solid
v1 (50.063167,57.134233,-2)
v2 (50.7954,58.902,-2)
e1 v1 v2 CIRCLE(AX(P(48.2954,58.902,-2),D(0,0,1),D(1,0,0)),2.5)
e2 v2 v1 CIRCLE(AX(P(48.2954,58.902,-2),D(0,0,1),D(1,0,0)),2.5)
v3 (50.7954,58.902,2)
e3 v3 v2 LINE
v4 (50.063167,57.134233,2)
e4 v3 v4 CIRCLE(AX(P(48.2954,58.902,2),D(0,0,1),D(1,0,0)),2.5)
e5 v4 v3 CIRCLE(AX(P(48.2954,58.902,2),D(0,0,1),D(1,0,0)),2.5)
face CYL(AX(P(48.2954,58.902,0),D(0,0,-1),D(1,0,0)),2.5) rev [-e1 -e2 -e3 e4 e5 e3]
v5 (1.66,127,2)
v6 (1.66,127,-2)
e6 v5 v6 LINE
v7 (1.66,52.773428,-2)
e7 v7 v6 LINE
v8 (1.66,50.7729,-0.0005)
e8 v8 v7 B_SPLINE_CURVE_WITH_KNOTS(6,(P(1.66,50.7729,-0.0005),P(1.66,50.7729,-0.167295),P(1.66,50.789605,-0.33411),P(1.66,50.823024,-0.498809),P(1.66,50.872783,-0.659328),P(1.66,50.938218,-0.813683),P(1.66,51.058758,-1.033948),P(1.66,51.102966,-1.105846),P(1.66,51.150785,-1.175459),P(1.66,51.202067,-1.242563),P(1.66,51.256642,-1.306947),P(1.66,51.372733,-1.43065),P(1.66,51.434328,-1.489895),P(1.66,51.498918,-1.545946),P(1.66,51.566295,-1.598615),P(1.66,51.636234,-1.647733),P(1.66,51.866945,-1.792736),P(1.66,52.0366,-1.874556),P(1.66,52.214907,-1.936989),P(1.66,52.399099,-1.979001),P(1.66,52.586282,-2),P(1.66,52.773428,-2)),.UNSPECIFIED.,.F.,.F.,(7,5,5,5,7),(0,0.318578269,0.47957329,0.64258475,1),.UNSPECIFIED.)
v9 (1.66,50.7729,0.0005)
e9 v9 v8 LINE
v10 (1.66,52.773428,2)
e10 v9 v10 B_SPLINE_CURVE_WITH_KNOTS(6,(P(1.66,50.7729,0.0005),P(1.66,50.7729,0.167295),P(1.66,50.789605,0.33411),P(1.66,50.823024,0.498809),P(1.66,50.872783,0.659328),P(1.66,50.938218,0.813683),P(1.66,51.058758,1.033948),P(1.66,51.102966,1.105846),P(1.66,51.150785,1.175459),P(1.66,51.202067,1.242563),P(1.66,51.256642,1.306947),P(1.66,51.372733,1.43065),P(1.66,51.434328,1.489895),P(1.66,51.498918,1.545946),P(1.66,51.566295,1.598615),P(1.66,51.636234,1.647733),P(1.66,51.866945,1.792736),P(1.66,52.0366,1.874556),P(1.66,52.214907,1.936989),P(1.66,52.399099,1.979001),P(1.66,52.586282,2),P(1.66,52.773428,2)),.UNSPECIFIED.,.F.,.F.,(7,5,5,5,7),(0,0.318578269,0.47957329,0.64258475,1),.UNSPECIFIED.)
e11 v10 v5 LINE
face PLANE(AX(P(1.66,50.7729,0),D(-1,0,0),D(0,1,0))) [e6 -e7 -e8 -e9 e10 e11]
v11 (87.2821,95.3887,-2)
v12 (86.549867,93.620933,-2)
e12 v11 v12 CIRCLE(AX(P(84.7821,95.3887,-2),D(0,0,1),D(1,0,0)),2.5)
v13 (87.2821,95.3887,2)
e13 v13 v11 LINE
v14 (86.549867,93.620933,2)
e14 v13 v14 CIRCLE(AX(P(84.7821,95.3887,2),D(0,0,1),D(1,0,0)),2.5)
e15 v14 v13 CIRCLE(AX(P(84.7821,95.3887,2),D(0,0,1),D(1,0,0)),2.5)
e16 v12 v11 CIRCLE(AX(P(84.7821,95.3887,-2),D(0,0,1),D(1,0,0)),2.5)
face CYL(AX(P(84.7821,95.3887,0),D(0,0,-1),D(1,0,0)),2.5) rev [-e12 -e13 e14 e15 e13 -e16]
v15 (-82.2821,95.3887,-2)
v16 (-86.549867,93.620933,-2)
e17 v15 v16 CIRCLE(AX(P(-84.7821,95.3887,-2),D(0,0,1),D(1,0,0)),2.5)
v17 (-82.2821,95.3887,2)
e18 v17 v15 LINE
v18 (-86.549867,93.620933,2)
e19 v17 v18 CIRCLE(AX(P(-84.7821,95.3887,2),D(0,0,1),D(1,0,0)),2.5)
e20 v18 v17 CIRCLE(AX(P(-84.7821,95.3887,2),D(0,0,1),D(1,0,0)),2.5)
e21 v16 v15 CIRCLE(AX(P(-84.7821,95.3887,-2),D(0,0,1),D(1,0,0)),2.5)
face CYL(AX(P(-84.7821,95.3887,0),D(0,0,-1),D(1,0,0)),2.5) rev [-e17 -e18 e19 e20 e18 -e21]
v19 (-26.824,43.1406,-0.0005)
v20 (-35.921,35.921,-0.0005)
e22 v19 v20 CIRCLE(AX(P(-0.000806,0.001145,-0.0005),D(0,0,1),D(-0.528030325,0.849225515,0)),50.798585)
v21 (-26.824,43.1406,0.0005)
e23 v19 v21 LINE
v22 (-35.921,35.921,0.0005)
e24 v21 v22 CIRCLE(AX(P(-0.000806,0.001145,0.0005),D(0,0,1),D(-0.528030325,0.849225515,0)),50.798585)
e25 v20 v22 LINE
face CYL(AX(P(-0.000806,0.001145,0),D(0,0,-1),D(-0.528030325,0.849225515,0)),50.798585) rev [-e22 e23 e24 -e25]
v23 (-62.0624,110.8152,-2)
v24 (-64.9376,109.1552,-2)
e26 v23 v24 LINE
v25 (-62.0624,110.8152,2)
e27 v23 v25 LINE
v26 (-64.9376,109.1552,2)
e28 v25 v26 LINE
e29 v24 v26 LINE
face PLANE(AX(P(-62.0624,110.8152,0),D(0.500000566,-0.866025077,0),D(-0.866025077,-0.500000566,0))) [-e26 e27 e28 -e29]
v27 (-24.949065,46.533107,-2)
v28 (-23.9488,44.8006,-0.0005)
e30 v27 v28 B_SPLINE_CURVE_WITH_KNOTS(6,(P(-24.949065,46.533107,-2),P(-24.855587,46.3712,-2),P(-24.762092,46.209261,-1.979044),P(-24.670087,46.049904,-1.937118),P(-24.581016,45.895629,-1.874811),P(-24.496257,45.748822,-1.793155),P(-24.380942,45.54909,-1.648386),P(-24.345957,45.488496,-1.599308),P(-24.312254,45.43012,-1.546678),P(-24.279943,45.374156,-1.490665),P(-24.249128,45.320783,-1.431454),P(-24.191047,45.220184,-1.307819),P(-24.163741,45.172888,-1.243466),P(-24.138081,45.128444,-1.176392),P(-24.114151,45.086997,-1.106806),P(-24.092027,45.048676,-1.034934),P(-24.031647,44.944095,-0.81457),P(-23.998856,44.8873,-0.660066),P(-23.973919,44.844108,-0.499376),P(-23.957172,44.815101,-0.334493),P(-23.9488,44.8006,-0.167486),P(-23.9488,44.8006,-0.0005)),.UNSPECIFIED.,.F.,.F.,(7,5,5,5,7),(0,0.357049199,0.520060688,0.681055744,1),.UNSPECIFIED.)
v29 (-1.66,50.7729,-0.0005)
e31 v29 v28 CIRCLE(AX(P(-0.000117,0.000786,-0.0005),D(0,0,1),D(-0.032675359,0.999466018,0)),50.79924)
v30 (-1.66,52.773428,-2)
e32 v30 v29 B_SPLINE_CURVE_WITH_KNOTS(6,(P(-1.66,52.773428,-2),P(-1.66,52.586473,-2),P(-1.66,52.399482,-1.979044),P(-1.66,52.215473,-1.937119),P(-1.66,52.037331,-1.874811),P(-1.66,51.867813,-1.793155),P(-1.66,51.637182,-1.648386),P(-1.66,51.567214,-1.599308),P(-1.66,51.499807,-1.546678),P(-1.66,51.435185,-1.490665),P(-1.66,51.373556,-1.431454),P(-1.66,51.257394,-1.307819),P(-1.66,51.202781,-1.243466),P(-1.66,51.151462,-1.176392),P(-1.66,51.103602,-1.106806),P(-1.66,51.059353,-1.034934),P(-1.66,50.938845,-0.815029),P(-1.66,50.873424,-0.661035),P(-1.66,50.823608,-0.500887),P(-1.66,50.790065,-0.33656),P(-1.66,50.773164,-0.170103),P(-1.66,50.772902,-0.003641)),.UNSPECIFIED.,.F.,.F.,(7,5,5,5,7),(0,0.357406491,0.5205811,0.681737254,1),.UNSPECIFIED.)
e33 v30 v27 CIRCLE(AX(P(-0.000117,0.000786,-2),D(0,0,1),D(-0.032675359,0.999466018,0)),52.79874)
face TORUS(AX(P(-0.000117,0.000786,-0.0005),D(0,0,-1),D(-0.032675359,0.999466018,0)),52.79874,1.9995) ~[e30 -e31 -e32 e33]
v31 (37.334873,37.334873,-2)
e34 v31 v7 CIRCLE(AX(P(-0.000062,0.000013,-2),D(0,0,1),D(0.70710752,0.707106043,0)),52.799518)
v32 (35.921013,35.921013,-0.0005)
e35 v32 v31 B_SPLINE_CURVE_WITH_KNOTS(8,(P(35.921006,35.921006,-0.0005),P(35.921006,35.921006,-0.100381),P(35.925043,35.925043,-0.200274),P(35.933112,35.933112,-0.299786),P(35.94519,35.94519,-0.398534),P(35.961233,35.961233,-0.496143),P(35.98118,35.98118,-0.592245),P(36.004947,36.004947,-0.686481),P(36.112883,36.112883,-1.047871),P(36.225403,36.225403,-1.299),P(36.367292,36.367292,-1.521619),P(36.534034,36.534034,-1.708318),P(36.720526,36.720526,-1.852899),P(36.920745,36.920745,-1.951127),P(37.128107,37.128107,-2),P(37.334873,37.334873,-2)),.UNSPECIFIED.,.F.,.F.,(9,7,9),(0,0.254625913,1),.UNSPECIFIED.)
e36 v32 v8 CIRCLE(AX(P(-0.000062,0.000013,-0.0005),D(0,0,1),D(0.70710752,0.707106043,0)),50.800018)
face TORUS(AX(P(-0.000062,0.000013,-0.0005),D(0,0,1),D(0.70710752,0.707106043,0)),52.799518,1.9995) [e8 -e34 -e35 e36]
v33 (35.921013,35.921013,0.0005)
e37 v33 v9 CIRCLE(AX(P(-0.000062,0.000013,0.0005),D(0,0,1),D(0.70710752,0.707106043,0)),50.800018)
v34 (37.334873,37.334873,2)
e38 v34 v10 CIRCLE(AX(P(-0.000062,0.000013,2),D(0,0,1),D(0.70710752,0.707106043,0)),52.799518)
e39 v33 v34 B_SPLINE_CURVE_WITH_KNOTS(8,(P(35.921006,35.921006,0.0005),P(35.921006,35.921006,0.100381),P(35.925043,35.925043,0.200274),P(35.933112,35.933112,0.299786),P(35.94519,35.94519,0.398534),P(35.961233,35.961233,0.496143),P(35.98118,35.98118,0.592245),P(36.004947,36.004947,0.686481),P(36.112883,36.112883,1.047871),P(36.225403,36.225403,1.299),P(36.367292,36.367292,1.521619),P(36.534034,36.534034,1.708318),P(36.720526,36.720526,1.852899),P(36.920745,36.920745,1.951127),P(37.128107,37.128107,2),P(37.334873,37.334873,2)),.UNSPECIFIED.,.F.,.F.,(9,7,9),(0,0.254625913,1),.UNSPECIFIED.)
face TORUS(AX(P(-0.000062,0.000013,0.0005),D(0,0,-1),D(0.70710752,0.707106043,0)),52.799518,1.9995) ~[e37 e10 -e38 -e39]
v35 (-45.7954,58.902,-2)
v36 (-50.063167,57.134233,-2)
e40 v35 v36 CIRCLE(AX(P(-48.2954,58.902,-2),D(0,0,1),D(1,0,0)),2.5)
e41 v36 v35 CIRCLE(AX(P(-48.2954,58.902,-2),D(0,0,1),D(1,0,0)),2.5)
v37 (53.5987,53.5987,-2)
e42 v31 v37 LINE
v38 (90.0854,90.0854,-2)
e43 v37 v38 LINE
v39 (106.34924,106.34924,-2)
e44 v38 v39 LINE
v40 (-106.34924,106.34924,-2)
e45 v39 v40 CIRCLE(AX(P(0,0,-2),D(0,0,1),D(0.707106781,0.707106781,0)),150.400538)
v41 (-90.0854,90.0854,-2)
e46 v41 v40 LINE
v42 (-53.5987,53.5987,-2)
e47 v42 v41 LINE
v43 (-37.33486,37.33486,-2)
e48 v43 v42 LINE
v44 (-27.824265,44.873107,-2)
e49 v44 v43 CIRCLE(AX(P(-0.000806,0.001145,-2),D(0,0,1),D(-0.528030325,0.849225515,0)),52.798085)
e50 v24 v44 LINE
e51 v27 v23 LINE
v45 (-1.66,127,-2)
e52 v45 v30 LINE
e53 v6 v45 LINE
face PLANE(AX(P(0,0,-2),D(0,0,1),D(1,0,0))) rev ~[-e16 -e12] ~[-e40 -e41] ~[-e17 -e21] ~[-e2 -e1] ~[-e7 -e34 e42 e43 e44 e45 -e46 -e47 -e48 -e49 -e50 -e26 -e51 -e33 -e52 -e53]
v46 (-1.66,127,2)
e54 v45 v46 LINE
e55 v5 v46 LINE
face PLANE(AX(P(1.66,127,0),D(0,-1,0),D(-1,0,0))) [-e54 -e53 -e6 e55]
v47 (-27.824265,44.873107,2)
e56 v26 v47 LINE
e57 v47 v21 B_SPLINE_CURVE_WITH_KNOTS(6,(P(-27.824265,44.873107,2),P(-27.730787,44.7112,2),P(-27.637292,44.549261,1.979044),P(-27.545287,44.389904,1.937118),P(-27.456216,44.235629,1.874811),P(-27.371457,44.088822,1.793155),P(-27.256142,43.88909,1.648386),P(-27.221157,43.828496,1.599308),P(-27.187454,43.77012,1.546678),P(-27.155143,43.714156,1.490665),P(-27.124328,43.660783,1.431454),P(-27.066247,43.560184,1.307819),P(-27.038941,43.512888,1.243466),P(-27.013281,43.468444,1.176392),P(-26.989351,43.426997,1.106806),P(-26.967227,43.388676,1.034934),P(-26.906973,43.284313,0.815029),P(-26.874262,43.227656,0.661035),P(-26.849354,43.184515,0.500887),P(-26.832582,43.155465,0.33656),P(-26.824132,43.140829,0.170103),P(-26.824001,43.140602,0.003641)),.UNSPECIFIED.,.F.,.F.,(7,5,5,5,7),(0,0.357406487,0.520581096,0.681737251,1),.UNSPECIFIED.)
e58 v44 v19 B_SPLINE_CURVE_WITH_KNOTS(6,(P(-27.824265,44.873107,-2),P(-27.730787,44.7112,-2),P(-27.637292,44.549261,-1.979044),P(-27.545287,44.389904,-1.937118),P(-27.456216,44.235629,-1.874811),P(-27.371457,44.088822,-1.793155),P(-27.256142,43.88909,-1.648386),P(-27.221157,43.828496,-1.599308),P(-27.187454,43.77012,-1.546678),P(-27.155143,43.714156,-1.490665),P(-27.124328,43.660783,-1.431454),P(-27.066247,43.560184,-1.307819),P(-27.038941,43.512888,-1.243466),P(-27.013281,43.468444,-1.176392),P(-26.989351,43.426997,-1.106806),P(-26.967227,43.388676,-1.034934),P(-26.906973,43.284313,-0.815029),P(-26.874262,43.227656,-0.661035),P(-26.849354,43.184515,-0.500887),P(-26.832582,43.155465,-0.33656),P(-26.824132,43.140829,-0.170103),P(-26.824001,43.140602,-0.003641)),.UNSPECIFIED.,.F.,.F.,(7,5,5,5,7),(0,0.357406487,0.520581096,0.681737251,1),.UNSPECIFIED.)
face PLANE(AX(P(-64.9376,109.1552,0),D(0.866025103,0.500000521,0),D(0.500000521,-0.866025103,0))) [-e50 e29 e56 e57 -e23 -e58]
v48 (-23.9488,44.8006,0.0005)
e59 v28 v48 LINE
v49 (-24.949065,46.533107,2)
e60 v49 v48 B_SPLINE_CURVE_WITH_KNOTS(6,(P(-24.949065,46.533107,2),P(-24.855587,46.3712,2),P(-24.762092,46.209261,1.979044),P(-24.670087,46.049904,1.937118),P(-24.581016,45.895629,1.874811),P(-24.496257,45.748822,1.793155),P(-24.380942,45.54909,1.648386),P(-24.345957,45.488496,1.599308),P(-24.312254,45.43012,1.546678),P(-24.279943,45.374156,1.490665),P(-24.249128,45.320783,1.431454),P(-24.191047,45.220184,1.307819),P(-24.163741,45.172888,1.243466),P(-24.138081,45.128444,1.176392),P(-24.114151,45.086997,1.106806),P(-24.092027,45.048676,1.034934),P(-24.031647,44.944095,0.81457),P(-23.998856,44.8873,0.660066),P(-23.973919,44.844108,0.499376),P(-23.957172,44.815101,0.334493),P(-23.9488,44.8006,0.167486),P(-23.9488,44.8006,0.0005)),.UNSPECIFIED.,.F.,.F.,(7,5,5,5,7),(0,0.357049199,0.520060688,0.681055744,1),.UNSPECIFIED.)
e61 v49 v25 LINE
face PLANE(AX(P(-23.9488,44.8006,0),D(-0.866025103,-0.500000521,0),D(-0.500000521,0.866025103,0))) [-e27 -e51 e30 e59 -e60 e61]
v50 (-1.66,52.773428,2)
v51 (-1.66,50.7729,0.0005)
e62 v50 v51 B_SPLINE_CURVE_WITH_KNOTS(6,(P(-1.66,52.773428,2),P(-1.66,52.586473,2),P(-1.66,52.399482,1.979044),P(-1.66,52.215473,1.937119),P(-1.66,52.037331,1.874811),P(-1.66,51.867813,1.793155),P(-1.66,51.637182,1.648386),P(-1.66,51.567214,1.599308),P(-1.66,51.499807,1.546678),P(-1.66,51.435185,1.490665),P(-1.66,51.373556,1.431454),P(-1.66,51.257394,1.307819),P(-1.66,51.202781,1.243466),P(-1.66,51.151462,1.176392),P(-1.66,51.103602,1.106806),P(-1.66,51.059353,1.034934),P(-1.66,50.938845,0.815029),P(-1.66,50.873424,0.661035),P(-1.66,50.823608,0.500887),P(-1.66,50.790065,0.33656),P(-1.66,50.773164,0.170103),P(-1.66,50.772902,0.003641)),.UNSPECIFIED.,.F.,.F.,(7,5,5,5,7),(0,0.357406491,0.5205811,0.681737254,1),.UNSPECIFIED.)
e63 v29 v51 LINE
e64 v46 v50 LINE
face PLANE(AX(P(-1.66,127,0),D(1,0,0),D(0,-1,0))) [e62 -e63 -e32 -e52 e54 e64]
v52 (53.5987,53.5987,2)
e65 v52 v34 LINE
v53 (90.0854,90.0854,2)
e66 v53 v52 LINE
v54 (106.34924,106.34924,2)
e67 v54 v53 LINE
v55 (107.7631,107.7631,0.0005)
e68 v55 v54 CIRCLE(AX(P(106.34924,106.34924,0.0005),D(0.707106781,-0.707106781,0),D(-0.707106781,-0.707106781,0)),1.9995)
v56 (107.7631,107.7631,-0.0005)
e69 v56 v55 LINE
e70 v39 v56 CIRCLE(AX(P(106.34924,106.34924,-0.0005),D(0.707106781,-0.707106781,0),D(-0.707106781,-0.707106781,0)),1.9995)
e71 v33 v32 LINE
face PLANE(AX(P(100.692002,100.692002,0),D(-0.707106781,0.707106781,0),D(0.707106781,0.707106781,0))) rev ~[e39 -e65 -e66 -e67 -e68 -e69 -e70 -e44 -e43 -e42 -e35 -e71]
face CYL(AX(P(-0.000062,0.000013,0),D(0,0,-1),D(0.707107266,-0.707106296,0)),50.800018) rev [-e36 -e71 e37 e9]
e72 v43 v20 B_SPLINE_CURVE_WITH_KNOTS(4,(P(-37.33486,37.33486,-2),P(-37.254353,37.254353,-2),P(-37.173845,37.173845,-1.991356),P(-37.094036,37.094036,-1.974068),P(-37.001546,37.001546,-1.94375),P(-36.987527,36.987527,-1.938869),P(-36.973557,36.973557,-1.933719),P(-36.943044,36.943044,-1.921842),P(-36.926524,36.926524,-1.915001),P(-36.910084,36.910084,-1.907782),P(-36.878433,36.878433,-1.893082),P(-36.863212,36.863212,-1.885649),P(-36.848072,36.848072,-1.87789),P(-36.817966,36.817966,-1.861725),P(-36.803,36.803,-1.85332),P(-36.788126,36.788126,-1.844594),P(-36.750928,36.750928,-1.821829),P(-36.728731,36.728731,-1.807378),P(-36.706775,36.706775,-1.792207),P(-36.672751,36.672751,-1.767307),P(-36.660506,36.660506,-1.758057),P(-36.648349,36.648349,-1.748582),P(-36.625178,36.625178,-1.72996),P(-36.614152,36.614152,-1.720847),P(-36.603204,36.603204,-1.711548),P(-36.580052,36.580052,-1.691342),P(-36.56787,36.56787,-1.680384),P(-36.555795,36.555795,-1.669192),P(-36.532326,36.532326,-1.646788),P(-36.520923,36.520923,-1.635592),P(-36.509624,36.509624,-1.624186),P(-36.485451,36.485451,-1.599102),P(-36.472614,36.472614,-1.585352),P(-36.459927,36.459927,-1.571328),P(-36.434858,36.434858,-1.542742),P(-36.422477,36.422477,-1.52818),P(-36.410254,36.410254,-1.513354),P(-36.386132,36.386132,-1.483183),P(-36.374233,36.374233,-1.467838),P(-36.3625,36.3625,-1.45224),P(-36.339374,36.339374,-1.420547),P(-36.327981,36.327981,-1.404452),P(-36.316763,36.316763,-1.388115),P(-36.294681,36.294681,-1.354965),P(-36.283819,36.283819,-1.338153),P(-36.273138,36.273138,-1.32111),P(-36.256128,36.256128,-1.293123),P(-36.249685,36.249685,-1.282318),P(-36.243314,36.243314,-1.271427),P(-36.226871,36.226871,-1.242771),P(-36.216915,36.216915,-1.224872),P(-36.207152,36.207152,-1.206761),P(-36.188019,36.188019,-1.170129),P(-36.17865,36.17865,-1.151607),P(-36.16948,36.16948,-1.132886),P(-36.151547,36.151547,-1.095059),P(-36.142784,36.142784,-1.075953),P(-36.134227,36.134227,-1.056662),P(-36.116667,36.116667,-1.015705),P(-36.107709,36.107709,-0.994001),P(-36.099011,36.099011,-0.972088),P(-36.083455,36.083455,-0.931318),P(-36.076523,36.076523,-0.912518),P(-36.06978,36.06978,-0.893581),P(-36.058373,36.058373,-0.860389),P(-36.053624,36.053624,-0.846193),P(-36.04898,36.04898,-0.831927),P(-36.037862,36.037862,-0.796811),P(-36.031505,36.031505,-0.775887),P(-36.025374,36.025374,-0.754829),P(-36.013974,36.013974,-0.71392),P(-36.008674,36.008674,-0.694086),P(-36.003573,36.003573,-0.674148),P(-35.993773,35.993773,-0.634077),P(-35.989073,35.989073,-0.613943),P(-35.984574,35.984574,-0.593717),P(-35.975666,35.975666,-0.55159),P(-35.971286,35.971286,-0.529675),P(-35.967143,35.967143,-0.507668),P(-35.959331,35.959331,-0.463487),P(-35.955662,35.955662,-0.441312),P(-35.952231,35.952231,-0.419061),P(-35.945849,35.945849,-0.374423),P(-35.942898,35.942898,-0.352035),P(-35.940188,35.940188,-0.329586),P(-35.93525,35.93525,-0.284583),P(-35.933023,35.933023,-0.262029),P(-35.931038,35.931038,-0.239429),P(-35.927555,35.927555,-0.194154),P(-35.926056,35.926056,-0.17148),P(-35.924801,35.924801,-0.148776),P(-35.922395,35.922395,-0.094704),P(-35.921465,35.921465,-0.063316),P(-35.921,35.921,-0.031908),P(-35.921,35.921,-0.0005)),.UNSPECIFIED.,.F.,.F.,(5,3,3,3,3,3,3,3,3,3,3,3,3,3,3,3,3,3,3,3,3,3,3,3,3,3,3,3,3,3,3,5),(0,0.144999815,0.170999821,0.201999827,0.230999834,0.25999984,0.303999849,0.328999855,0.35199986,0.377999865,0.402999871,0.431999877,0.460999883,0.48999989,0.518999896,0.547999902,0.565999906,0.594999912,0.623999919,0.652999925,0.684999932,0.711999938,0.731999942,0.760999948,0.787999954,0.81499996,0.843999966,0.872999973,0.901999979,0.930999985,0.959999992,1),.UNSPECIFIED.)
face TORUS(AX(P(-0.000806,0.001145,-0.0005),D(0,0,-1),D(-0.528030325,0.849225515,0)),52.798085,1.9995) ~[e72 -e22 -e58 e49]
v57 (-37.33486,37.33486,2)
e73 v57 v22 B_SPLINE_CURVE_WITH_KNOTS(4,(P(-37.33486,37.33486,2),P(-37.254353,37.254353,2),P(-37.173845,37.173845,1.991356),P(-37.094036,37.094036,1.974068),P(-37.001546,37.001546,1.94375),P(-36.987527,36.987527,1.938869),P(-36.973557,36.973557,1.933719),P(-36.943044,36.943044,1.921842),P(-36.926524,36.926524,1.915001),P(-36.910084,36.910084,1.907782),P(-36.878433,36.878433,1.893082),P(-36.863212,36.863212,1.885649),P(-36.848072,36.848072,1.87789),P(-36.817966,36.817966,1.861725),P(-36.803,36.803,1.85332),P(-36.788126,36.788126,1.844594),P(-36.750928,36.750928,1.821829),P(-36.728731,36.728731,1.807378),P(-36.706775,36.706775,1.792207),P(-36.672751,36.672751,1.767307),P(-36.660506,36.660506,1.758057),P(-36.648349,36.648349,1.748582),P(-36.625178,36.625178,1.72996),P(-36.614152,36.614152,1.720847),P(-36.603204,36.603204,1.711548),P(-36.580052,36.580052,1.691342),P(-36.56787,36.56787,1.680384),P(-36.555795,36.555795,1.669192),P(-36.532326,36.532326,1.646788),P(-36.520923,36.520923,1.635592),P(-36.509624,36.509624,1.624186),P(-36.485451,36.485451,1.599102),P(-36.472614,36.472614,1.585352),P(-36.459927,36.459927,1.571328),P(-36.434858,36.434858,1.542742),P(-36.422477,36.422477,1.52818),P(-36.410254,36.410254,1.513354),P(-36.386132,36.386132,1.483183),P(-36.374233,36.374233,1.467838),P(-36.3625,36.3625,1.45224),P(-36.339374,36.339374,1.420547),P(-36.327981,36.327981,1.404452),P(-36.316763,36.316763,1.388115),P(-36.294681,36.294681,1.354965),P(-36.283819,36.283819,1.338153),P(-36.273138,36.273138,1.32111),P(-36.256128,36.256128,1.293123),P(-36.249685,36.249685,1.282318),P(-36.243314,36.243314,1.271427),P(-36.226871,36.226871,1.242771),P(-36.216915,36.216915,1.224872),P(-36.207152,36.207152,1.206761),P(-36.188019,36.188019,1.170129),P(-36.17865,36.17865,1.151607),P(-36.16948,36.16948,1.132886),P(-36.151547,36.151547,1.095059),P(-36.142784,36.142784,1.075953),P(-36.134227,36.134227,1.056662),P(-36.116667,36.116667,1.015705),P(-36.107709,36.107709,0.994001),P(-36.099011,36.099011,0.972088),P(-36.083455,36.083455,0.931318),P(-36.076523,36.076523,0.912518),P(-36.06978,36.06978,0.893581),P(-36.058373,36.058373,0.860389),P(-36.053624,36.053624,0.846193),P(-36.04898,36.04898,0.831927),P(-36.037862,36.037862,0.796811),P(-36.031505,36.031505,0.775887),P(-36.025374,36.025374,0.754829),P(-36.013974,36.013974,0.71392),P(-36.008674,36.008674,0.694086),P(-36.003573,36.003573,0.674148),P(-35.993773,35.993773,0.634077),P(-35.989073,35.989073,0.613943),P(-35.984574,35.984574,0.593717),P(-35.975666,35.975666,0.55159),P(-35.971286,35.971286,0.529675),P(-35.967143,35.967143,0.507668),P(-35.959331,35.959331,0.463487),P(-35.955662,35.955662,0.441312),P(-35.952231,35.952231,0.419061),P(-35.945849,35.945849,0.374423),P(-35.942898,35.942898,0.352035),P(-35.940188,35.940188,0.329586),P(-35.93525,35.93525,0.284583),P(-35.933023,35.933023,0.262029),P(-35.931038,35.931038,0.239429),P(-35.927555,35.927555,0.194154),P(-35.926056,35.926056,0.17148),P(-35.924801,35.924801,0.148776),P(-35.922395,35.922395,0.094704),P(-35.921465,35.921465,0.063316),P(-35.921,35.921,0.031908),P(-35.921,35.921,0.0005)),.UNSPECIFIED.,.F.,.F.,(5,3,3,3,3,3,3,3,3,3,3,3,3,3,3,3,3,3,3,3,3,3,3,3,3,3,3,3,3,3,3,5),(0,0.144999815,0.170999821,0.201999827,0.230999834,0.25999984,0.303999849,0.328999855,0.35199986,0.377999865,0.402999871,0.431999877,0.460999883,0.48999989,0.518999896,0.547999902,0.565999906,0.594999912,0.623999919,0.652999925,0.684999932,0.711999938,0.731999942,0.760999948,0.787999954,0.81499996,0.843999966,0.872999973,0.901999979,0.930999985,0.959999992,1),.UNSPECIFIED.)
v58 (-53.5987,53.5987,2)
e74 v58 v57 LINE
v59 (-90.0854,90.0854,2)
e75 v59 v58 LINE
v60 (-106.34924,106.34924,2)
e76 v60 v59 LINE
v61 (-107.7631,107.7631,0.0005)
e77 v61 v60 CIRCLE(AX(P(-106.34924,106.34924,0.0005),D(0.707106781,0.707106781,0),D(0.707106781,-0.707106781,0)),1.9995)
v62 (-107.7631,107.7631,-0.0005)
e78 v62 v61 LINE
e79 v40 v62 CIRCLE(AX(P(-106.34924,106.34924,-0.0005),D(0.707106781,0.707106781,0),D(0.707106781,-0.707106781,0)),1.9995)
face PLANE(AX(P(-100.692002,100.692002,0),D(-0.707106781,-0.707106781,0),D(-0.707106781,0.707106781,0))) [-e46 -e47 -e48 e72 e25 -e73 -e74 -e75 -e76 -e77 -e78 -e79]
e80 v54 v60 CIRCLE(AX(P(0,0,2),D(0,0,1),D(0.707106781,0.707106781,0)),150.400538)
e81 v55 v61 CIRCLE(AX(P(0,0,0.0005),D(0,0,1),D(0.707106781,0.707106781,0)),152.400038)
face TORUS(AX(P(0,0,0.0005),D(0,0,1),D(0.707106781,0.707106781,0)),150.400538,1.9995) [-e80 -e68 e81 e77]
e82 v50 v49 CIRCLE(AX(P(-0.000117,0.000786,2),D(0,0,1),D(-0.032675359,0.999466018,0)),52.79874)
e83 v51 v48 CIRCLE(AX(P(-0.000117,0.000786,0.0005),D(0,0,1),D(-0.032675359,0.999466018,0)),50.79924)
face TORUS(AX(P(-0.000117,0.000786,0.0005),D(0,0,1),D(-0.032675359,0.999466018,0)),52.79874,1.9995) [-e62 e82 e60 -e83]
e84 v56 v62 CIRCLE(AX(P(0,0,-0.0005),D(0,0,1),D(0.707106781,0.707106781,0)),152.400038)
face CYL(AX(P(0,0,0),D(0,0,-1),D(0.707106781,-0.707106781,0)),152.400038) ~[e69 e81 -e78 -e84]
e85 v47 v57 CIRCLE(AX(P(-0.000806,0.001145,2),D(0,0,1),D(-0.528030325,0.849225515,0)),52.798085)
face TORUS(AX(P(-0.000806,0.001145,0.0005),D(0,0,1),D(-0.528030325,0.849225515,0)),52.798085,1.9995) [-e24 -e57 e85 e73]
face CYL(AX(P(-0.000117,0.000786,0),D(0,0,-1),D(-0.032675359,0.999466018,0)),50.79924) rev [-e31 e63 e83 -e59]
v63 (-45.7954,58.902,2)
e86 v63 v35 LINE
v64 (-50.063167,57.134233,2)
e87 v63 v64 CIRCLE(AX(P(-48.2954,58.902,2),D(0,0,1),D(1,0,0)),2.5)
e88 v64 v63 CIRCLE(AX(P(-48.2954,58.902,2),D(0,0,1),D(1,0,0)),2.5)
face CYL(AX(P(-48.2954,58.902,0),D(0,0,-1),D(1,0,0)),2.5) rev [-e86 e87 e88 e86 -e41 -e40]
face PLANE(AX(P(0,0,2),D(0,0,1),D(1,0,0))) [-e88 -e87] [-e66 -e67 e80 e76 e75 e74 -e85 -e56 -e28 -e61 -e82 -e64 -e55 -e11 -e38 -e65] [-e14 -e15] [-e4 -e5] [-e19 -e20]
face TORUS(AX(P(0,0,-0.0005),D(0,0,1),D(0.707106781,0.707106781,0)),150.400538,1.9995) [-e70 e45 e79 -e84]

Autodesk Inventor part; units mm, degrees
ref_plane "YZ Plane" through (0, 0, 0) normal (1, 0, 0) x (0, 1, 0)
ref_plane "XZ Plane" through (0, 0, 0) normal (0, 1, 0) x (-1, 0, 0)
ref_plane "XY Plane" through (0, 0, 0) normal (0, 0, 1) x (1, 0, 0)
sketch "Sketch1" plane through (0, 0, 0) normal (0, 0, 1) x (1, 0, 0)
  arc A0 (107.7631, -107.7631) -> (-107.7631, 107.7631) centre (0, 0) ccw
  line L0 (152.4, 0) -> (127, 0)
  line L1 (127, -1.66) -> (127, 1.66)
  line L2 (127, 1.66) -> (50.7729, 1.66)
  line L3 (50.7729, -1.66) -> (127, -1.66)
  line L4 (-64.9376, 109.1552) -> (-26.824, 43.1406)
  line L5 (-23.9488, 44.8006) -> (-62.0624, 110.8152)
  line L6 (-1.66, 127) -> (-1.66, 50.7729)
  line L7 (1.66, 50.7729) -> (1.66, 127)
  line L8 (1.66, 127) -> (-1.66, 127)
  line L9 (-62.0624, 110.8152) -> (-64.9376, 109.1552)
  line L10 (35.921, 35.921) -> (107.7631, 107.7631)
  line L11 (0, 0) -> (152.4, 0) construction
  line L12 (0, 0) -> (152.4, 0) construction
  line L13 (107.7631, -107.7631) -> (35.921, -35.921)
  line L14 (-35.921, 35.921) -> (-107.7631, 107.7631)
  arc A1 (-26.824, 43.1406) -> (-35.921, 35.921) centre (0, 0) ccw
  arc A2 (35.921, -35.921) -> (1.66, 50.7729) centre (0, 0) ccw
  arc A3 (-1.66, 50.7729) -> (-23.9488, 44.8006) centre (0, 0) ccw
  line L15 (35.921, 35.921) -> (53.5987, 53.5987)
  line L16 (107.7631, 107.7631) -> (90.0854, 90.0854)
  circle A4 centre (53.5987, 53.5987) radius 15
  line L17 (53.5987, 53.5987) -> (58.902, 48.2954)
  line L18 (53.5987, 53.5987) -> (48.2954, 58.902)
  circle A5 centre (48.2954, 58.902) radius 2.5
  circle A6 centre (58.902, 48.2954) radius 2.5
  circle A7 centre (90.0854, 90.0854) radius 15
  line L19 (90.0854, 90.0854) -> (95.3887, 84.7821)
  line L20 (90.0854, 90.0854) -> (84.7821, 95.3887)
  circle A8 centre (84.7821, 95.3887) radius 2.5
  circle A9 centre (95.3887, 84.7821) radius 2.5
  line L21 (-90.0854, 90.0854) -> (-84.7821, 95.3887)
  circle A10 centre (-84.7821, 95.3887) radius 2.5
  circle A11 centre (-90.0854, 90.0854) radius 15
  line L22 (-90.0854, 90.0854) -> (-95.3887, 84.7821)
  circle A12 centre (-95.3887, 84.7821) radius 2.5
  circle A13 centre (-58.902, 48.2954) radius 2.5
  circle A14 centre (-53.5987, 53.5987) radius 15
  line L23 (-53.5987, 53.5987) -> (-58.902, 48.2954)
  circle A15 centre (-48.2954, 58.902) radius 2.5
  line L24 (-53.5987, 53.5987) -> (-48.2954, 58.902)
  line L25 (90.0854, -90.0854) -> (84.7821, -95.3887)
  circle A16 centre (84.7821, -95.3887) radius 2.5
  circle A17 centre (90.0854, -90.0854) radius 15
  line L26 (90.0854, -90.0854) -> (95.3887, -84.7821)
  circle A18 centre (95.3887, -84.7821) radius 2.5
  circle A19 centre (58.902, -48.2954) radius 2.5
  circle A20 centre (53.5987, -53.5987) radius 15
  line L27 (53.5987, -53.5987) -> (58.902, -48.2954)
  circle A21 centre (48.2954, -58.902) radius 2.5
  line L28 (53.5987, -53.5987) -> (48.2954, -58.902)
  point P0 (50.8, 0)
  dimension "d2" = 25.4
  dimension "d3" = 3.32
  dimension "d10" = 45
  dimension "d12" = 25
  dimension "d13" = 25
  dimension "d14" = 30
  dimension "d15" = 7.5
  dimension "d16" = 7.5
  dimension "d17" = 5
  dimension "d18" = 5
  dimension "d19" = 30
  dimension "d20" = 7.5
  dimension "d21" = 7.5
  dimension "d22" = 5
  dimension "d23" = 5
extrude "Extrusion2" [suppressed]
extrude "Extrusion3" [suppressed]
extrude "Extrusion4" add sketch "Sketch1" along normal mid plane 4 contours L10 A7 A4 A2 L7 L8 L6 A3 L5 L9 L4 A1 L14 A14 A11 A0 | L10 A7 | A11 L14 | L10 A4 | A14 L14 picked at (92.6865, 95.3887) picked at (-92.6855, 95.3478) picked at (56.1998, 58.902) picked at (-56.1988, 58.8611)
fillet "Fillet1" [suppressed]
fillet "Fillet2" radius 2 6 edges at (-31.5795, 39.7916, 2) (-31.5795, 39.7916, -2) (-13.148, 49.069, 2) (-13.148, 49.069, -2) (20.2046, 46.6091, 2) (20.2046, 46.6091, -2)
fillet "Fillet3" radius 2 2 edges at (0, 152.4, 2) (0, 152.4, -2)
properties part number "fin_alignment_rig_part1"
